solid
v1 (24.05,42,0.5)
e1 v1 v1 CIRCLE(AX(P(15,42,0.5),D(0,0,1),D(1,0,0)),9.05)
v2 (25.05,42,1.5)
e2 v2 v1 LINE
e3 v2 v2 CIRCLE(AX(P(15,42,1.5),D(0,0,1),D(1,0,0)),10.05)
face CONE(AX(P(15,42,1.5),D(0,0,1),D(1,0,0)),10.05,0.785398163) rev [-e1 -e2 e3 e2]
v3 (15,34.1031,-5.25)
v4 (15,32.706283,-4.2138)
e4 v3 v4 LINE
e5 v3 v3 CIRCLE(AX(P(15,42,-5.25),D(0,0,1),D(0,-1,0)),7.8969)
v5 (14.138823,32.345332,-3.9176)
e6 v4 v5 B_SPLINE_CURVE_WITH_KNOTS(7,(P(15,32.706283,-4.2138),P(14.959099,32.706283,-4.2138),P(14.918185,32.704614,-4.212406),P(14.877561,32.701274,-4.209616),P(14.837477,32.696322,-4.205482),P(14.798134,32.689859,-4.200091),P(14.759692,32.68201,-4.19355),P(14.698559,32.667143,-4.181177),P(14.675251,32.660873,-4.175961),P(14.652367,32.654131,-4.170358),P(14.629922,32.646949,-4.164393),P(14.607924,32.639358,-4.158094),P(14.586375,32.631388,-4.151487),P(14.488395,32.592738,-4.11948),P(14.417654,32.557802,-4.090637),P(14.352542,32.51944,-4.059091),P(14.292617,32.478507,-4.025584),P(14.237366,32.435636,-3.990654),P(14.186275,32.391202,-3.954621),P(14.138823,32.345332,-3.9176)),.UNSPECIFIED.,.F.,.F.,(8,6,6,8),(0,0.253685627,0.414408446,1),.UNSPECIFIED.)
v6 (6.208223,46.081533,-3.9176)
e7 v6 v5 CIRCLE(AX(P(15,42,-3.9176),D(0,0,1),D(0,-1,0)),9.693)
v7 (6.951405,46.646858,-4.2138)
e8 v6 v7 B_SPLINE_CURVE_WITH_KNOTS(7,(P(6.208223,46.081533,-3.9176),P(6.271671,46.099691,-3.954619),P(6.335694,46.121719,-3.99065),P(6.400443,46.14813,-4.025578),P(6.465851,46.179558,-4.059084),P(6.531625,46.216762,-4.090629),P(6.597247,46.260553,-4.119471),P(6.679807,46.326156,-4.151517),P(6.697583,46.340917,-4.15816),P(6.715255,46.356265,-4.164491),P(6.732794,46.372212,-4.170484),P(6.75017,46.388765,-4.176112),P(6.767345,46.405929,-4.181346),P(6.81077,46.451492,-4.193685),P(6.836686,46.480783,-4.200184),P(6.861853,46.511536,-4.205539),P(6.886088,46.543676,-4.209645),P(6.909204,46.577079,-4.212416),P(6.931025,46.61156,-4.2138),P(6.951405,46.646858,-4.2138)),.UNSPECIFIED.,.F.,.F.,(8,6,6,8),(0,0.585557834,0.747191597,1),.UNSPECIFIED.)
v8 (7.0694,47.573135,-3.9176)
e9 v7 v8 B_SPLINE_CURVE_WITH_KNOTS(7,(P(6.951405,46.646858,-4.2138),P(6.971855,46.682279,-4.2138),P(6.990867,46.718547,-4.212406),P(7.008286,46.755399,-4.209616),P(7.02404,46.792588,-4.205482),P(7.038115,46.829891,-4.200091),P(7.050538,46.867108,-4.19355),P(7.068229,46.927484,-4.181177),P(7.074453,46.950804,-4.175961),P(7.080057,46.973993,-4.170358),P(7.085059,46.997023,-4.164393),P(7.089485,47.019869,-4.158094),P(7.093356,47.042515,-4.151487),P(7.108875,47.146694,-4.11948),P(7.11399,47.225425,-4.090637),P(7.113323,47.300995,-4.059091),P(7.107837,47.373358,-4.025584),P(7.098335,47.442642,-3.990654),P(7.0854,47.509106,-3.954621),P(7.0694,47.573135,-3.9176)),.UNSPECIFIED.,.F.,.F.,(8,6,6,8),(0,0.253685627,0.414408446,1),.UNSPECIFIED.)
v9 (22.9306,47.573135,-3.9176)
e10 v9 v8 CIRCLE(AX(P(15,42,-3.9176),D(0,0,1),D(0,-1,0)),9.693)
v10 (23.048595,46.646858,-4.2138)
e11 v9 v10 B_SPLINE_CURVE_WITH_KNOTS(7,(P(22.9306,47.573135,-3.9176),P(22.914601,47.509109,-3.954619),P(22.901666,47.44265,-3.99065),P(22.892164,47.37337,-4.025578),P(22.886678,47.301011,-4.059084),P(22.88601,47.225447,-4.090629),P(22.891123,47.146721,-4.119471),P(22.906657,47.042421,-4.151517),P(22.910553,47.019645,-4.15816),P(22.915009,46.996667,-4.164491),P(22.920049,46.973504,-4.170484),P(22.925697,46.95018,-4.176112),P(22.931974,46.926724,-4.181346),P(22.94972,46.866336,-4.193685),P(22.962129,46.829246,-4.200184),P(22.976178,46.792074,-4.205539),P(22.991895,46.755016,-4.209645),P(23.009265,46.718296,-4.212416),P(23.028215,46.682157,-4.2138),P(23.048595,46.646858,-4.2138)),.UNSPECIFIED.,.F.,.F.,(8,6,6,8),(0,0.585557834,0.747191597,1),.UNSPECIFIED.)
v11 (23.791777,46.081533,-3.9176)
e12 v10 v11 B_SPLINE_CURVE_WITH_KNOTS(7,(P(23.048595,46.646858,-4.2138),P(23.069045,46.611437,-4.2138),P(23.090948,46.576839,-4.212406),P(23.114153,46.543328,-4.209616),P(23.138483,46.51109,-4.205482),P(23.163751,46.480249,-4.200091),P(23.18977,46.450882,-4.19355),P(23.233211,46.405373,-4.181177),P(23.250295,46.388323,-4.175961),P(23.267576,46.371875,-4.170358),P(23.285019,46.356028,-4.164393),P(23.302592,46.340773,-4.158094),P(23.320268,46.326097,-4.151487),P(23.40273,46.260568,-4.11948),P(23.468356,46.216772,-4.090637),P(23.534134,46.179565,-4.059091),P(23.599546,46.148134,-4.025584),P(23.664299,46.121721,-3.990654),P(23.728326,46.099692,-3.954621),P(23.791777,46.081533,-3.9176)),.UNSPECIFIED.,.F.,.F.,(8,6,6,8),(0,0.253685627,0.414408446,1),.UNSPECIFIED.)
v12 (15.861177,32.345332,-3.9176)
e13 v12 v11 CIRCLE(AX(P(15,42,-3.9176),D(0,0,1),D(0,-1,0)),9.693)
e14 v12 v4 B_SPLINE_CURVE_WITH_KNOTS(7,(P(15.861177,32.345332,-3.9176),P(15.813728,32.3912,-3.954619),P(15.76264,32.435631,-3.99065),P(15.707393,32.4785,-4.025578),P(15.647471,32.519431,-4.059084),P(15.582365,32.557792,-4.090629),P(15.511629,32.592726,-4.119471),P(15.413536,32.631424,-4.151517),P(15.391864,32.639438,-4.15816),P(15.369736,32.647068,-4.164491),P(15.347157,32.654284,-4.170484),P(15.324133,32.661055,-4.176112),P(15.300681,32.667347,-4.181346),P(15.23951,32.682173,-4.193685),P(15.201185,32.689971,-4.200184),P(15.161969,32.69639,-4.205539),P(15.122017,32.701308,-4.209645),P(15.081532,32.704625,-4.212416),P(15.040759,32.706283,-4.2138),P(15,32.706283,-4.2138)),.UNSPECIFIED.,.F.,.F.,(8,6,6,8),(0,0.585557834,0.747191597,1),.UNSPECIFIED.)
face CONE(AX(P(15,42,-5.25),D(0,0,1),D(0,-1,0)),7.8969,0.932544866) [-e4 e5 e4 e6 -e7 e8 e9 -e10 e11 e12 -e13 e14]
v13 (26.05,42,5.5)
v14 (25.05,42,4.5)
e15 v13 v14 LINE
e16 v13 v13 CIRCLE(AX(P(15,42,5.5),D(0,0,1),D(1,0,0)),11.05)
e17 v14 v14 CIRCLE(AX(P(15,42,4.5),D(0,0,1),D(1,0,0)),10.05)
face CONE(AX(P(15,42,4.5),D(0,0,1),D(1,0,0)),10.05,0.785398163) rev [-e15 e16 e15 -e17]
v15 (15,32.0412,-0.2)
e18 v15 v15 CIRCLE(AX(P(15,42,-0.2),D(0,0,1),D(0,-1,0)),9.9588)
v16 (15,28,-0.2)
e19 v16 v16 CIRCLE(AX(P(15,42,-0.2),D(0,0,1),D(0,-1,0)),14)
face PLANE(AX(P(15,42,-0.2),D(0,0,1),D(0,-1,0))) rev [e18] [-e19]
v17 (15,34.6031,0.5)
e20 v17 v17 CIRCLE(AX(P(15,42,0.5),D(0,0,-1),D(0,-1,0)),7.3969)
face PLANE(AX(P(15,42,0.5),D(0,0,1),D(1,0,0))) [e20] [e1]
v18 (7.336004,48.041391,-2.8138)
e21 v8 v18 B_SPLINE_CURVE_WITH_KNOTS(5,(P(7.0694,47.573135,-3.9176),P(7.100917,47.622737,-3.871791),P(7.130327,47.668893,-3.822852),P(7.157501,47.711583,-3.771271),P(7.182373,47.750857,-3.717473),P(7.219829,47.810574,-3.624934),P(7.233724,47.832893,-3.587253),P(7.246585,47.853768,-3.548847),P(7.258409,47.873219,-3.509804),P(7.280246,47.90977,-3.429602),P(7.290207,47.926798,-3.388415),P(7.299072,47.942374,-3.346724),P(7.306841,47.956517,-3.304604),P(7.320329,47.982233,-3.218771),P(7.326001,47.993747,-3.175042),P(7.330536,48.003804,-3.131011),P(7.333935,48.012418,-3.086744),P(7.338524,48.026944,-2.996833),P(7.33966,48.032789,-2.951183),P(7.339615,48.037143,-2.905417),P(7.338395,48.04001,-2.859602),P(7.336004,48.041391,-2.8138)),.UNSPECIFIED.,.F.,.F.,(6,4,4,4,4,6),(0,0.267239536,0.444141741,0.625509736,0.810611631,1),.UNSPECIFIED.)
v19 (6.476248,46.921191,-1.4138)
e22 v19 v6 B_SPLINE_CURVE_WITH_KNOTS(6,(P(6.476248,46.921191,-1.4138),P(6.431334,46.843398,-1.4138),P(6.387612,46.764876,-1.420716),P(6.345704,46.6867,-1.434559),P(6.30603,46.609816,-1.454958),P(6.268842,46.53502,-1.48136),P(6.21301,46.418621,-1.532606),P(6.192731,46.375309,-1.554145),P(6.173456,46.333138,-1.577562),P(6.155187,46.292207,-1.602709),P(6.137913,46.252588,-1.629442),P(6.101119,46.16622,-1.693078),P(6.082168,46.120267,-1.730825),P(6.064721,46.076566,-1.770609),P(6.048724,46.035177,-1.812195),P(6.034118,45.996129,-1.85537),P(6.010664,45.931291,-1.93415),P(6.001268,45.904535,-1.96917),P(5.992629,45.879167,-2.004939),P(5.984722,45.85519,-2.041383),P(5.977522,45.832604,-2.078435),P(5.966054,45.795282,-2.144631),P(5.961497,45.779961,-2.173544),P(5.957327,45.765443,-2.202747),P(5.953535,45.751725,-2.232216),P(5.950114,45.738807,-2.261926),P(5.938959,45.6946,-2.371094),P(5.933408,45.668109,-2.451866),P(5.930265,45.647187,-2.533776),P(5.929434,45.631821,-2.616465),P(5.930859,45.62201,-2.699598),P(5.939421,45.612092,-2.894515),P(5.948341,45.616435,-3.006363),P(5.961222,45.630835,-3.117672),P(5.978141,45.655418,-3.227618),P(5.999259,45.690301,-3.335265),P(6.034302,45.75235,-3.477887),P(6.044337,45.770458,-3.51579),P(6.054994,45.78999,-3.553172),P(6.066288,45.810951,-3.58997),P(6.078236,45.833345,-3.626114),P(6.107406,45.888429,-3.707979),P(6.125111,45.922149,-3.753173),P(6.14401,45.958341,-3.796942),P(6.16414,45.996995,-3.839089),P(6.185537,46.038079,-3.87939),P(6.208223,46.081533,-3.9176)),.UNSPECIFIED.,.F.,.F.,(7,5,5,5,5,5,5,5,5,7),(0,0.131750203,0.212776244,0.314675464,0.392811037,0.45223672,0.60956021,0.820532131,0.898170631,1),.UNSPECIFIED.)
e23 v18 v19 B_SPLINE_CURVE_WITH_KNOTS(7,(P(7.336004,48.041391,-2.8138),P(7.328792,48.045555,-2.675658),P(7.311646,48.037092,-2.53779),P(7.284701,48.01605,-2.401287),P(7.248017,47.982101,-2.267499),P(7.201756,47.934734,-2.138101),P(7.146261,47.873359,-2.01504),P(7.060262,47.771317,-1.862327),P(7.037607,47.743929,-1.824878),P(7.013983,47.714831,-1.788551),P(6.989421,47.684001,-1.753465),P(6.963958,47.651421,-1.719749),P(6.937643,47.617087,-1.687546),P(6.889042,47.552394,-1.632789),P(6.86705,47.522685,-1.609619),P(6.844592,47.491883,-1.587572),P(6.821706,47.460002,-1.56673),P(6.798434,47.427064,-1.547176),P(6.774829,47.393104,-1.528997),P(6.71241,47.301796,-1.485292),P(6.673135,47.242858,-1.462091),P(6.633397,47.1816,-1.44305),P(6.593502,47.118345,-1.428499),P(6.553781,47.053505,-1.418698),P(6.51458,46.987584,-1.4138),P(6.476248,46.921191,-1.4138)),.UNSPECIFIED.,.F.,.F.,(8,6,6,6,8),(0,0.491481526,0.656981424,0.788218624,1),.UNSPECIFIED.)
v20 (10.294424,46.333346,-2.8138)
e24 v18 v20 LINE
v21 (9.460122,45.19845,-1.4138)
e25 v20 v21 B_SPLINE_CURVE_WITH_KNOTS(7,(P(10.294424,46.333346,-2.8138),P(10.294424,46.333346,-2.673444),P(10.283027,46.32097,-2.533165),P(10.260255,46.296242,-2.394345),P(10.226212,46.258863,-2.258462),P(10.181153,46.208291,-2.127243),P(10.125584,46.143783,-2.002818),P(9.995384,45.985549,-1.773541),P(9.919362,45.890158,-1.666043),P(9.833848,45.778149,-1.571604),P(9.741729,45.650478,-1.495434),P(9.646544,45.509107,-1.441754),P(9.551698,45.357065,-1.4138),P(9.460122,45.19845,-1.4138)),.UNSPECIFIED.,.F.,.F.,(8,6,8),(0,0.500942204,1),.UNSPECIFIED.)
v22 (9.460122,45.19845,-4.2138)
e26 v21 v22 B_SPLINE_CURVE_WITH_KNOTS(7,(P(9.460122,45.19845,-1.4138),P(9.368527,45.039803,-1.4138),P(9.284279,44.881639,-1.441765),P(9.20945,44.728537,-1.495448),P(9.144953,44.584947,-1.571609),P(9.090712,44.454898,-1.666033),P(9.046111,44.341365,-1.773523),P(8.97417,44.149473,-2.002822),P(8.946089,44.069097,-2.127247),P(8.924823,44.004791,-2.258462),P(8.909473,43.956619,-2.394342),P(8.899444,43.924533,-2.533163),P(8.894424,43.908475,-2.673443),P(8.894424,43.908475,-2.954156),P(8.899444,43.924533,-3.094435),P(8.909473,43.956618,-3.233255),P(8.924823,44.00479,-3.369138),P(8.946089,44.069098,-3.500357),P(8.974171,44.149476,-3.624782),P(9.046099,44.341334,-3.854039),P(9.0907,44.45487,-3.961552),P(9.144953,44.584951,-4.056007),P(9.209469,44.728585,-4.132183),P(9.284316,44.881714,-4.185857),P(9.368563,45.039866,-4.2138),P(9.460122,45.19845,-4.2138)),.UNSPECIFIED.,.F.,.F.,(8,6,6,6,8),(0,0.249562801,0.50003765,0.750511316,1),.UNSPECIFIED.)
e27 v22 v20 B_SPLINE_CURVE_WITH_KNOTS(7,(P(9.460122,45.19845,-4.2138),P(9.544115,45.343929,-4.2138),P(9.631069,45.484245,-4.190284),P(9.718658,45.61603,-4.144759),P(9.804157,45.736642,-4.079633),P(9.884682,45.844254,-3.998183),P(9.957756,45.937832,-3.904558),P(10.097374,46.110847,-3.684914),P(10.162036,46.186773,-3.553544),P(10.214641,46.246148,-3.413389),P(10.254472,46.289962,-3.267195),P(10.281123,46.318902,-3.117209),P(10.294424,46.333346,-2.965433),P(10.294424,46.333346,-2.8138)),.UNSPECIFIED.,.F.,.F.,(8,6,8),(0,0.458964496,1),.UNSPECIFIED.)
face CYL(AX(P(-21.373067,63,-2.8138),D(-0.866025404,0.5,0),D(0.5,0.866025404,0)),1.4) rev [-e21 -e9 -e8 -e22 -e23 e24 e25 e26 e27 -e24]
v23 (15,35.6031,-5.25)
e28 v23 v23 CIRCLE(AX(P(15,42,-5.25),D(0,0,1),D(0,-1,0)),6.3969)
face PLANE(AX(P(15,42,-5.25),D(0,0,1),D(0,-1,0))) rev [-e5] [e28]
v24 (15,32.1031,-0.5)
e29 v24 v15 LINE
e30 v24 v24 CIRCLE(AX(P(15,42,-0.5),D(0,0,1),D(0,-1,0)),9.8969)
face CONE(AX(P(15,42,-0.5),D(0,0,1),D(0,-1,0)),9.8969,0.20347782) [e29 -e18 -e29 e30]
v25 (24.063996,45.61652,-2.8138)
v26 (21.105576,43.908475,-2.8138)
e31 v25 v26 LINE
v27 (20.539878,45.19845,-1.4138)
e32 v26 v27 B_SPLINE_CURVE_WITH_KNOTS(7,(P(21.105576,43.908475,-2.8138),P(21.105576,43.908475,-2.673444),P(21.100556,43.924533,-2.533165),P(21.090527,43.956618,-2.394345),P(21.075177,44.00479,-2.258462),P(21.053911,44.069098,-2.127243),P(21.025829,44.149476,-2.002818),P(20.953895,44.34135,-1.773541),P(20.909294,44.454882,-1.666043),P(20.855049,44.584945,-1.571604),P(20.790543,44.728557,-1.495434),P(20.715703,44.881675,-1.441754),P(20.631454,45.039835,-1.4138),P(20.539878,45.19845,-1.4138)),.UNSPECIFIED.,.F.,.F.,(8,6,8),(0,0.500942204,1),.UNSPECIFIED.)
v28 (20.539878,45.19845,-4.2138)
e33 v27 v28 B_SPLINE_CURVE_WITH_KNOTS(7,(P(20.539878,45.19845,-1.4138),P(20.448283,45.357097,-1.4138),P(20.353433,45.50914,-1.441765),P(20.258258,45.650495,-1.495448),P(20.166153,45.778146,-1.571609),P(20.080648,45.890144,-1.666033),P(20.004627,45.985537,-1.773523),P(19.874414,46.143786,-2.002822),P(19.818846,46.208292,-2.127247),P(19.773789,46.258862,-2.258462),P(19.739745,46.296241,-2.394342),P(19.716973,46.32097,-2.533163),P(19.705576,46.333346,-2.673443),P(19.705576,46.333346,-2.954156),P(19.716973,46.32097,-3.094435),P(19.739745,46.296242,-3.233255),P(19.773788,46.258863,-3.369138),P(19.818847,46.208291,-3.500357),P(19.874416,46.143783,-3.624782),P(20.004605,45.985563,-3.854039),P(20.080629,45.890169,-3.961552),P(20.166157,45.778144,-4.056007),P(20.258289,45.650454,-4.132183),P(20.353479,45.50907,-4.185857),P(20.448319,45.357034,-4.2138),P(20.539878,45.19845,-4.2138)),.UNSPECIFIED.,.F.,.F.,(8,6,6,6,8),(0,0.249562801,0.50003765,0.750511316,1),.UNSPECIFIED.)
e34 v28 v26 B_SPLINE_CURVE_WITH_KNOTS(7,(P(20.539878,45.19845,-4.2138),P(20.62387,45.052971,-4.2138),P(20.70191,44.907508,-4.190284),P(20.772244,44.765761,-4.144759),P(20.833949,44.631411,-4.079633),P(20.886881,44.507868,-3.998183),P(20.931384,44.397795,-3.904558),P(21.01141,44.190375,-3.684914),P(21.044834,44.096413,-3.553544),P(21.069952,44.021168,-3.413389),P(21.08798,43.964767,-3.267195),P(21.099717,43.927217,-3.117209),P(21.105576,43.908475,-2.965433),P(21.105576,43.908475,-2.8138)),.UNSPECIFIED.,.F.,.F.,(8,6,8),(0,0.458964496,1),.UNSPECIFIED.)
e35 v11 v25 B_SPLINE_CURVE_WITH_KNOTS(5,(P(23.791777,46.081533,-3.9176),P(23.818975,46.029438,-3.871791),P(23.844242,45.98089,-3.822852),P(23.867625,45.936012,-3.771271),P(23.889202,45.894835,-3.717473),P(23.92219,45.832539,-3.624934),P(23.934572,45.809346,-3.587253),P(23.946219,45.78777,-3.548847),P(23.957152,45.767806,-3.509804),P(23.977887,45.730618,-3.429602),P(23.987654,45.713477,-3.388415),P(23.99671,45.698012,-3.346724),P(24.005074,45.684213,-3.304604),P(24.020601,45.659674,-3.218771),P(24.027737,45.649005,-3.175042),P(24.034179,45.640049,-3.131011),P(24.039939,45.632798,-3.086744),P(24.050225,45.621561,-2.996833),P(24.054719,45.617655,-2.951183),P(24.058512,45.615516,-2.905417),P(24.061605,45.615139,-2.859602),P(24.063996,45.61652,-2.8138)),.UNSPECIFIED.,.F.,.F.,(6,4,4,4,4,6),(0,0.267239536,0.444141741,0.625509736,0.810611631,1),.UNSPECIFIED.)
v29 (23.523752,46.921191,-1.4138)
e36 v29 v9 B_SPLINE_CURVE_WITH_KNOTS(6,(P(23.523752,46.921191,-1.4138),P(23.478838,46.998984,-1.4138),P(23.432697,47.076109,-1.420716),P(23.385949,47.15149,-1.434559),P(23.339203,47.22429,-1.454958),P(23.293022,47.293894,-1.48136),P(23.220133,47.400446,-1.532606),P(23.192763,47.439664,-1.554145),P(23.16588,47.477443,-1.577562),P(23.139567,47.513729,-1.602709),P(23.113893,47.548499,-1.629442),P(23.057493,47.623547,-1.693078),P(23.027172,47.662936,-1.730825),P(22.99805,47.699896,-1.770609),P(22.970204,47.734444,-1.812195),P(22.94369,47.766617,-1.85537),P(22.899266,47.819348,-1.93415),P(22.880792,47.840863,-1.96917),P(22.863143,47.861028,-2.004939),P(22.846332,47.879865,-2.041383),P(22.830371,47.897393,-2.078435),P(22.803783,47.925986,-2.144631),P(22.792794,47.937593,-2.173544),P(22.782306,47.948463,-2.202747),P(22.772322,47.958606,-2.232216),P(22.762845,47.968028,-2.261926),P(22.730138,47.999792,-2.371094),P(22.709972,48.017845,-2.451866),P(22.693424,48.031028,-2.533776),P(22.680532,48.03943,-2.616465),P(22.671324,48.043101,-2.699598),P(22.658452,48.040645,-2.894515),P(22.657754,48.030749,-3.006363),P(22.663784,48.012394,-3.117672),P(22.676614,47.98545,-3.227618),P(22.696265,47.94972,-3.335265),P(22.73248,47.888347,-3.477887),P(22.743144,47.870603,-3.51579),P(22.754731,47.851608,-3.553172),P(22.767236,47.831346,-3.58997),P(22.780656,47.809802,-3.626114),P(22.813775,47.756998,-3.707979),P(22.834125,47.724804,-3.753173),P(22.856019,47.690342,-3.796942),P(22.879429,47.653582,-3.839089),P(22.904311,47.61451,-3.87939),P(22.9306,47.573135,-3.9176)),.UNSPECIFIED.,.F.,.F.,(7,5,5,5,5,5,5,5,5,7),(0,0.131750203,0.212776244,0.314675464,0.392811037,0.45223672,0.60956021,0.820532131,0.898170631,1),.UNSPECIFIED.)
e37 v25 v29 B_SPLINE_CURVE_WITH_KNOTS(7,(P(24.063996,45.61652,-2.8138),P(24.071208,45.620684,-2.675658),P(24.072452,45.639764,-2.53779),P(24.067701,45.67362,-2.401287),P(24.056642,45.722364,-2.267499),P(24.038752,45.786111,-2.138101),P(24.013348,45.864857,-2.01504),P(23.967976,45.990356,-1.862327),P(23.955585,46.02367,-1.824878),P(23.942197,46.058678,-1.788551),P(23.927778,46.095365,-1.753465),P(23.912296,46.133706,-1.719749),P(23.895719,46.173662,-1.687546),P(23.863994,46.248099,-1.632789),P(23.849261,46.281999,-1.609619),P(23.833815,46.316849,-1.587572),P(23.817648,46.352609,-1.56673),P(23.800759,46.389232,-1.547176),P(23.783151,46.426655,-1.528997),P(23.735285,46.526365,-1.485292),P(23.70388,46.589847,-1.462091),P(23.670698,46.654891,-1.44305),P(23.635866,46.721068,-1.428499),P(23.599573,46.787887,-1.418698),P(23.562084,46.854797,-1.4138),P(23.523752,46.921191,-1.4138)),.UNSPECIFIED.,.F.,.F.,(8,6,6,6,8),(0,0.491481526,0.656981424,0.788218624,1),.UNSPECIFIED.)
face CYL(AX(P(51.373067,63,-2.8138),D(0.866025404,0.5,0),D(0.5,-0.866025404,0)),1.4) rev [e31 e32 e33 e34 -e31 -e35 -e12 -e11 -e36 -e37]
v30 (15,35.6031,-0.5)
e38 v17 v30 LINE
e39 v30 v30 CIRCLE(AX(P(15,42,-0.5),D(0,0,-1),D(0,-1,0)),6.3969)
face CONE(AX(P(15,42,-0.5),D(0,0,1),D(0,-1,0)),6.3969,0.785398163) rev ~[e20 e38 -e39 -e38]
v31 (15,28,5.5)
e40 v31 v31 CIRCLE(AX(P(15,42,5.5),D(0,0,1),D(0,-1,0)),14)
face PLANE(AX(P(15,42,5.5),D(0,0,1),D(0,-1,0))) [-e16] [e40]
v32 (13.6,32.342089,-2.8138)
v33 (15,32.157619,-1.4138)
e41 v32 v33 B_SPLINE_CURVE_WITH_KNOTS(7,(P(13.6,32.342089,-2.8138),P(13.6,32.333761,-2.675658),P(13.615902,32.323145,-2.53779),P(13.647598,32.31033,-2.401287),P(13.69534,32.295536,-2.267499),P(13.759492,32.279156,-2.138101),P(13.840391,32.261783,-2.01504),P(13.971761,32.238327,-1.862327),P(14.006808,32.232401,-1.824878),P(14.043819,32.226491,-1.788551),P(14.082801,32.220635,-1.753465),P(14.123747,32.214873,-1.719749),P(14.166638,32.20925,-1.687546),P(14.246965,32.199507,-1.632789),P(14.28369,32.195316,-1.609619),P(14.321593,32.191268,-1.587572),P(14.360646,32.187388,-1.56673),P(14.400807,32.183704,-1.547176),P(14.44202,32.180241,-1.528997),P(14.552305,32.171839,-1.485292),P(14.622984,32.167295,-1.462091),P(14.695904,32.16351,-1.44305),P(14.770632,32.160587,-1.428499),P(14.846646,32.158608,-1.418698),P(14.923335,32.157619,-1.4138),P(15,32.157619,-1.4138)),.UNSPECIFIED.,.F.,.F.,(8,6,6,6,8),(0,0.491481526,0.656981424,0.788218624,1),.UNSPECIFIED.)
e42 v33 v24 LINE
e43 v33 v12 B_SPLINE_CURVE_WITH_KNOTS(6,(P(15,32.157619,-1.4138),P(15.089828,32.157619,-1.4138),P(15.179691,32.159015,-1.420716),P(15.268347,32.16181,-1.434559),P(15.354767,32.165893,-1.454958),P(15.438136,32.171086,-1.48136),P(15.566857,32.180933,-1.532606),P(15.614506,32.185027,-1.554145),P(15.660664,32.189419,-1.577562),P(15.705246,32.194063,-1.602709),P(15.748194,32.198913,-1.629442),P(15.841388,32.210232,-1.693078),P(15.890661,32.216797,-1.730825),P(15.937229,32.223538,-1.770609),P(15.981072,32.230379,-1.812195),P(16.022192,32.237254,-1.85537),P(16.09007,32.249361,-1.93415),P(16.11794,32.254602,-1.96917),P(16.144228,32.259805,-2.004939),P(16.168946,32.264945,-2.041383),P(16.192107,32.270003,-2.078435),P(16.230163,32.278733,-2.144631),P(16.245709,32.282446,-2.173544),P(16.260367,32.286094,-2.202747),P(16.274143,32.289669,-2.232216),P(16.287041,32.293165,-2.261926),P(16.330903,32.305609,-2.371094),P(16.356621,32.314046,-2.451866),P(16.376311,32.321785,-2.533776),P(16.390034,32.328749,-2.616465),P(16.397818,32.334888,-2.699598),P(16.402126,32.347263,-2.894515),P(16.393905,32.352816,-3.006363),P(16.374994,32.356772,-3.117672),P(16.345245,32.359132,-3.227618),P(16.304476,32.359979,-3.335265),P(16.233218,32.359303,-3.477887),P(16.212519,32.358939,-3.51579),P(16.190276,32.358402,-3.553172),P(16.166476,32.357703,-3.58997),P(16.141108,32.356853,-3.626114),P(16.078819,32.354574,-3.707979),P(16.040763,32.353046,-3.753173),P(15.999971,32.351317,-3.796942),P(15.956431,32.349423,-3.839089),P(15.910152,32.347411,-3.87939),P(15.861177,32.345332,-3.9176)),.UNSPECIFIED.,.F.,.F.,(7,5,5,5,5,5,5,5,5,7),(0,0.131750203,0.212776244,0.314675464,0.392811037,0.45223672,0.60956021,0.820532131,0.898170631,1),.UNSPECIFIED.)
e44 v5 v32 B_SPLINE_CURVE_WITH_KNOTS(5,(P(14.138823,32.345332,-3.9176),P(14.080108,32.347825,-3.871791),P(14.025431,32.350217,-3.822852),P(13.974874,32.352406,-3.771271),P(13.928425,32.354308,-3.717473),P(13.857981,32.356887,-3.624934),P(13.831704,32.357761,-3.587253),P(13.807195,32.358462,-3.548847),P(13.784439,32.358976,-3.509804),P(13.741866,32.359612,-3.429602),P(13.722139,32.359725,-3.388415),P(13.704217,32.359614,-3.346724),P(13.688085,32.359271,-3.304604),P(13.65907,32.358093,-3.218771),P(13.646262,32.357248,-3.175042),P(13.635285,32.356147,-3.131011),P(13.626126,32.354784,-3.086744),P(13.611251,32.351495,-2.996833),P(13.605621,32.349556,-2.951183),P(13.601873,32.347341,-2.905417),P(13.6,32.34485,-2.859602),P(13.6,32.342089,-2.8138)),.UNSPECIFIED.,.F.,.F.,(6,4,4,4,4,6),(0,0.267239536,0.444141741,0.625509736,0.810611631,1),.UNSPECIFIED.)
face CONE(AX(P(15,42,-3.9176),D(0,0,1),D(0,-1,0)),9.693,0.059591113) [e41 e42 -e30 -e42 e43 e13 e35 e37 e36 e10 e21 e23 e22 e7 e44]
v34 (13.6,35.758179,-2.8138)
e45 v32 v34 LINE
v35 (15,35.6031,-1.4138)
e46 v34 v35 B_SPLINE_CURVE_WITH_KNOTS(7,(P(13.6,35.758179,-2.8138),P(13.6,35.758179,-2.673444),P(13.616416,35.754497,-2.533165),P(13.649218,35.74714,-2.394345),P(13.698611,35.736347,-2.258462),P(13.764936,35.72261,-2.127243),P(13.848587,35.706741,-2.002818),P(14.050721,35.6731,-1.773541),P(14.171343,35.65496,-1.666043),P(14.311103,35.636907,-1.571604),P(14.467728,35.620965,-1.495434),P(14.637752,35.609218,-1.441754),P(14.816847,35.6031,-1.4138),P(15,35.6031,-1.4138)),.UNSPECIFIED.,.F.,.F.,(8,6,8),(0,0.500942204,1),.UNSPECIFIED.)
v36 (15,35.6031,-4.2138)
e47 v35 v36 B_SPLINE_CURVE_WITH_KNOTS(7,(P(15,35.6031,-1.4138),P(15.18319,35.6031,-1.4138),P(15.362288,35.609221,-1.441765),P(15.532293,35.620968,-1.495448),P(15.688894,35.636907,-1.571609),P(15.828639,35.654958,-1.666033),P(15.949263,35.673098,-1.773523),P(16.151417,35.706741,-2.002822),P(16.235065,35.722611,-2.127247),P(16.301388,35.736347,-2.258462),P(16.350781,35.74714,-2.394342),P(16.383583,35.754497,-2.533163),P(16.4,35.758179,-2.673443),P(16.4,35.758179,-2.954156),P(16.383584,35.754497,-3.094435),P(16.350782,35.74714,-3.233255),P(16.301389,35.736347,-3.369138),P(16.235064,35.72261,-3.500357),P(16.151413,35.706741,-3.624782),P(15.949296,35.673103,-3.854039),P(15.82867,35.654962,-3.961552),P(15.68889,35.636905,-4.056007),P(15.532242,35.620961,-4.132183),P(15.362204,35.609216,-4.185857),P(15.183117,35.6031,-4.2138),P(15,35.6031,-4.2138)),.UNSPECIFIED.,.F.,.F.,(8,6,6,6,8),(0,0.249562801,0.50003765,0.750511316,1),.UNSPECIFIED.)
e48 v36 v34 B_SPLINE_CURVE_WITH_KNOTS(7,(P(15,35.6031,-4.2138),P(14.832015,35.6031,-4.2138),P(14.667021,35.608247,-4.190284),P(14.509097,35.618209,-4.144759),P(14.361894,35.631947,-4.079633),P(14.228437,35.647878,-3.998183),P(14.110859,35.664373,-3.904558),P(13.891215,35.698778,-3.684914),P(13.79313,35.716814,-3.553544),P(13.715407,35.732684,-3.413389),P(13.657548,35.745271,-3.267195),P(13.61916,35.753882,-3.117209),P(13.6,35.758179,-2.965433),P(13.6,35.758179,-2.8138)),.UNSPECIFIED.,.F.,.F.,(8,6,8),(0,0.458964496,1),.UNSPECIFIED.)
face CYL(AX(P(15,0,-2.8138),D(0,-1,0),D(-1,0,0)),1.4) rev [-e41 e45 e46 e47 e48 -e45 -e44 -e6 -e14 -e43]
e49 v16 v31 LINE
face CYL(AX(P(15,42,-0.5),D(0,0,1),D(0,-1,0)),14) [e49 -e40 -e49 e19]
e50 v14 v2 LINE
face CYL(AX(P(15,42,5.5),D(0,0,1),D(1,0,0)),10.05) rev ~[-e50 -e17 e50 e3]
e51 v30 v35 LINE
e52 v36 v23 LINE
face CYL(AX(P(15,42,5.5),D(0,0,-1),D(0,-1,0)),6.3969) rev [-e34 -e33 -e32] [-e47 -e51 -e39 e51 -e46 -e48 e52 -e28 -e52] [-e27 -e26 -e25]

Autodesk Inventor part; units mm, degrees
ref_plane "YZ Plane" through (0, 0, 0) normal (1, 0, 0) x (0, 1, 0)
ref_plane "XZ Plane" through (0, 0, 0) normal (0, 1, 0) x (-1, 0, 0)
ref_plane "XY Plane" through (0, 0, 0) normal (0, 0, 1) x (1, 0, 0)
ref_plane "Arbeitsebene1" through (15, 0, 0) normal (-1, 0, 0) x (0, 1, 0)
sketch "Skizze1" plane through (15, 0, 0) normal (-1, 0, 0) x (0, 1, 0)
  line L0 (32.6031, 0.5) -> (30.7237, 0.5) projected
  line L1 (30.7237, 4.25) -> (32.6031, 4.25) projected
  line L2 (30.7237, 0.5) -> (30.7237, 4.25) projected
  line L3 (32.6031, 0.5) -> (30.7237, 0.5) projected
  line L4 (30.7237, 4.7) -> (32.6031, 4.7) projected
  line L5 (30.7237, 0.5) -> (30.7237, 4.25) projected
  line L6 (30, 0.5) -> (32, 0.5) projected
  line L7 (30, 0.55) -> (30, 0.5) projected
  line L8 (32, 0.5) -> (32, 0.55) projected
  line L9 (32, 0.5) -> (32, 16.1)
  line L10 (52, 0.5) -> (52, 16.1)
  line L11 (42, 19.32) -> (42, -3.22)
  line L12 (32.6031, 0.5) -> (28, 0.5)
  line L13 (28, 0.5) -> (28, -5.5)
  line L14 (28, -5.5) -> (35.6031, -5.5)
  line L15 (35.6031, -5.5) -> (35.6031, 5.25)
  line L16 (35.6031, 5.25) -> (34.1031, 5.25)
  line L17 (32.6031, 0.5) -> (32.6031, 0.2)
  line L18 (32.6031, 0.2) -> (28, 0.2)
  line L19 (32, 0.55) -> (30, 0.55) projected
  line L20 (32.1031, 0.5) -> (32.0412, 0.2)
  line L21 (28, -5.5) -> (32, -5.5)
  line L22 (32, -5.5) -> (32, -13.5)
  line L23 (32, -13.5) -> (28, -13.5)
  line L24 (28, -13.5) -> (28, -5.5)
  line L25 (34.1031, 5.25) -> (32.307, 3.9176)
  line L26 (32.307, 3.9176) -> (32.1031, 0.5)
  point P0 (0, 0)
  dimension "d1" = 6
  dimension "d3" = 1
  dimension "d11" = 0.5
  dimension "d13" = 14
  dimension "d14" = 8
  dimension "d15" = 10
  dimension "d37" = 0.3
  dimension "d38" = 6.3969
revolve "Umdrehung1" add sketch "Skizze1" angle 360 about axis through (15, 42, -19.32) along (0, 0, 1) contours L17 L18 L20 L0 | L0 L26 L25 L16 L15 L14 L13 L18 L17
sketch "Skizze2" plane through (0, 0, 0) normal (0, 1, 0) x (-1, 0, 0)
  spline S0 degree 3 poles (-15, -4.25) (-12.1304, -4.4784) (-9.2732, -4.7067) (-7.1109, -4.9351) (-6.8554, -4.962) (-6.6095, -4.989) (-6.3738, -5.016) knots 0 0 0 0 0.7174 0.7174 0.7174 0.802142 0.802142 0.802142 0.802142 projected
  spline S1 degree 3 poles (-14.5016, -1.0897) (-11.6314, -1.3183) (-8.8183, -1.5469) (-6.7355, -1.7755) (-6.2054, -1.8336) (-5.7215, -1.8918) (-5.2918, -1.95) knots 0.041547 0.041547 0.041547 0.041547 0.759706 0.759706 0.759706 0.942478 0.942478 0.942478 0.942478 projected
  circle A0 centre (-15, -2.8138) radius 1.4
  line L0 (-15, 1.0048) -> (-15, -6.0288) projected
  point P0 (0, 0)
  dimension "d5" = 2.8
extrude "Extrusion1" cut sketch "Skizze2" along normal up to surface
pattern_circular "Runde Anordnung1" count 3 over 360 about axis through (15, 42, 2.65) along (0, 0, -1) of "Extrusion1"
chamfer "Fase1" distance 1 angle 45 1 edges at (15, 48.3969, 5.5)
sketch "Skizze6" plane through (15, 42, 5.5) normal (0, 0, 1) x (1, 0, 0)
  circle A0 centre (0, 0) radius 14 projected
  circle A1 centre (0, 0) radius 7.3969 projected
  circle A2 centre (0, 0) radius 10.05
  point P0 (-15, -42)
  dimension "d31" = 20.1
extrude "Extrusion4" cut sketch "Skizze6" against normal blind 5 contours A1 | A2
chamfer "Fase3" distance 1 angle 45 3 edges at (15, 48.3969, 0.5) (4.95, 42, 5.5) (4.95, 42, 0.5)
properties part number "30_Linear_Stage_NEMA11_baseholder_bayonetmount_objective_v0"
